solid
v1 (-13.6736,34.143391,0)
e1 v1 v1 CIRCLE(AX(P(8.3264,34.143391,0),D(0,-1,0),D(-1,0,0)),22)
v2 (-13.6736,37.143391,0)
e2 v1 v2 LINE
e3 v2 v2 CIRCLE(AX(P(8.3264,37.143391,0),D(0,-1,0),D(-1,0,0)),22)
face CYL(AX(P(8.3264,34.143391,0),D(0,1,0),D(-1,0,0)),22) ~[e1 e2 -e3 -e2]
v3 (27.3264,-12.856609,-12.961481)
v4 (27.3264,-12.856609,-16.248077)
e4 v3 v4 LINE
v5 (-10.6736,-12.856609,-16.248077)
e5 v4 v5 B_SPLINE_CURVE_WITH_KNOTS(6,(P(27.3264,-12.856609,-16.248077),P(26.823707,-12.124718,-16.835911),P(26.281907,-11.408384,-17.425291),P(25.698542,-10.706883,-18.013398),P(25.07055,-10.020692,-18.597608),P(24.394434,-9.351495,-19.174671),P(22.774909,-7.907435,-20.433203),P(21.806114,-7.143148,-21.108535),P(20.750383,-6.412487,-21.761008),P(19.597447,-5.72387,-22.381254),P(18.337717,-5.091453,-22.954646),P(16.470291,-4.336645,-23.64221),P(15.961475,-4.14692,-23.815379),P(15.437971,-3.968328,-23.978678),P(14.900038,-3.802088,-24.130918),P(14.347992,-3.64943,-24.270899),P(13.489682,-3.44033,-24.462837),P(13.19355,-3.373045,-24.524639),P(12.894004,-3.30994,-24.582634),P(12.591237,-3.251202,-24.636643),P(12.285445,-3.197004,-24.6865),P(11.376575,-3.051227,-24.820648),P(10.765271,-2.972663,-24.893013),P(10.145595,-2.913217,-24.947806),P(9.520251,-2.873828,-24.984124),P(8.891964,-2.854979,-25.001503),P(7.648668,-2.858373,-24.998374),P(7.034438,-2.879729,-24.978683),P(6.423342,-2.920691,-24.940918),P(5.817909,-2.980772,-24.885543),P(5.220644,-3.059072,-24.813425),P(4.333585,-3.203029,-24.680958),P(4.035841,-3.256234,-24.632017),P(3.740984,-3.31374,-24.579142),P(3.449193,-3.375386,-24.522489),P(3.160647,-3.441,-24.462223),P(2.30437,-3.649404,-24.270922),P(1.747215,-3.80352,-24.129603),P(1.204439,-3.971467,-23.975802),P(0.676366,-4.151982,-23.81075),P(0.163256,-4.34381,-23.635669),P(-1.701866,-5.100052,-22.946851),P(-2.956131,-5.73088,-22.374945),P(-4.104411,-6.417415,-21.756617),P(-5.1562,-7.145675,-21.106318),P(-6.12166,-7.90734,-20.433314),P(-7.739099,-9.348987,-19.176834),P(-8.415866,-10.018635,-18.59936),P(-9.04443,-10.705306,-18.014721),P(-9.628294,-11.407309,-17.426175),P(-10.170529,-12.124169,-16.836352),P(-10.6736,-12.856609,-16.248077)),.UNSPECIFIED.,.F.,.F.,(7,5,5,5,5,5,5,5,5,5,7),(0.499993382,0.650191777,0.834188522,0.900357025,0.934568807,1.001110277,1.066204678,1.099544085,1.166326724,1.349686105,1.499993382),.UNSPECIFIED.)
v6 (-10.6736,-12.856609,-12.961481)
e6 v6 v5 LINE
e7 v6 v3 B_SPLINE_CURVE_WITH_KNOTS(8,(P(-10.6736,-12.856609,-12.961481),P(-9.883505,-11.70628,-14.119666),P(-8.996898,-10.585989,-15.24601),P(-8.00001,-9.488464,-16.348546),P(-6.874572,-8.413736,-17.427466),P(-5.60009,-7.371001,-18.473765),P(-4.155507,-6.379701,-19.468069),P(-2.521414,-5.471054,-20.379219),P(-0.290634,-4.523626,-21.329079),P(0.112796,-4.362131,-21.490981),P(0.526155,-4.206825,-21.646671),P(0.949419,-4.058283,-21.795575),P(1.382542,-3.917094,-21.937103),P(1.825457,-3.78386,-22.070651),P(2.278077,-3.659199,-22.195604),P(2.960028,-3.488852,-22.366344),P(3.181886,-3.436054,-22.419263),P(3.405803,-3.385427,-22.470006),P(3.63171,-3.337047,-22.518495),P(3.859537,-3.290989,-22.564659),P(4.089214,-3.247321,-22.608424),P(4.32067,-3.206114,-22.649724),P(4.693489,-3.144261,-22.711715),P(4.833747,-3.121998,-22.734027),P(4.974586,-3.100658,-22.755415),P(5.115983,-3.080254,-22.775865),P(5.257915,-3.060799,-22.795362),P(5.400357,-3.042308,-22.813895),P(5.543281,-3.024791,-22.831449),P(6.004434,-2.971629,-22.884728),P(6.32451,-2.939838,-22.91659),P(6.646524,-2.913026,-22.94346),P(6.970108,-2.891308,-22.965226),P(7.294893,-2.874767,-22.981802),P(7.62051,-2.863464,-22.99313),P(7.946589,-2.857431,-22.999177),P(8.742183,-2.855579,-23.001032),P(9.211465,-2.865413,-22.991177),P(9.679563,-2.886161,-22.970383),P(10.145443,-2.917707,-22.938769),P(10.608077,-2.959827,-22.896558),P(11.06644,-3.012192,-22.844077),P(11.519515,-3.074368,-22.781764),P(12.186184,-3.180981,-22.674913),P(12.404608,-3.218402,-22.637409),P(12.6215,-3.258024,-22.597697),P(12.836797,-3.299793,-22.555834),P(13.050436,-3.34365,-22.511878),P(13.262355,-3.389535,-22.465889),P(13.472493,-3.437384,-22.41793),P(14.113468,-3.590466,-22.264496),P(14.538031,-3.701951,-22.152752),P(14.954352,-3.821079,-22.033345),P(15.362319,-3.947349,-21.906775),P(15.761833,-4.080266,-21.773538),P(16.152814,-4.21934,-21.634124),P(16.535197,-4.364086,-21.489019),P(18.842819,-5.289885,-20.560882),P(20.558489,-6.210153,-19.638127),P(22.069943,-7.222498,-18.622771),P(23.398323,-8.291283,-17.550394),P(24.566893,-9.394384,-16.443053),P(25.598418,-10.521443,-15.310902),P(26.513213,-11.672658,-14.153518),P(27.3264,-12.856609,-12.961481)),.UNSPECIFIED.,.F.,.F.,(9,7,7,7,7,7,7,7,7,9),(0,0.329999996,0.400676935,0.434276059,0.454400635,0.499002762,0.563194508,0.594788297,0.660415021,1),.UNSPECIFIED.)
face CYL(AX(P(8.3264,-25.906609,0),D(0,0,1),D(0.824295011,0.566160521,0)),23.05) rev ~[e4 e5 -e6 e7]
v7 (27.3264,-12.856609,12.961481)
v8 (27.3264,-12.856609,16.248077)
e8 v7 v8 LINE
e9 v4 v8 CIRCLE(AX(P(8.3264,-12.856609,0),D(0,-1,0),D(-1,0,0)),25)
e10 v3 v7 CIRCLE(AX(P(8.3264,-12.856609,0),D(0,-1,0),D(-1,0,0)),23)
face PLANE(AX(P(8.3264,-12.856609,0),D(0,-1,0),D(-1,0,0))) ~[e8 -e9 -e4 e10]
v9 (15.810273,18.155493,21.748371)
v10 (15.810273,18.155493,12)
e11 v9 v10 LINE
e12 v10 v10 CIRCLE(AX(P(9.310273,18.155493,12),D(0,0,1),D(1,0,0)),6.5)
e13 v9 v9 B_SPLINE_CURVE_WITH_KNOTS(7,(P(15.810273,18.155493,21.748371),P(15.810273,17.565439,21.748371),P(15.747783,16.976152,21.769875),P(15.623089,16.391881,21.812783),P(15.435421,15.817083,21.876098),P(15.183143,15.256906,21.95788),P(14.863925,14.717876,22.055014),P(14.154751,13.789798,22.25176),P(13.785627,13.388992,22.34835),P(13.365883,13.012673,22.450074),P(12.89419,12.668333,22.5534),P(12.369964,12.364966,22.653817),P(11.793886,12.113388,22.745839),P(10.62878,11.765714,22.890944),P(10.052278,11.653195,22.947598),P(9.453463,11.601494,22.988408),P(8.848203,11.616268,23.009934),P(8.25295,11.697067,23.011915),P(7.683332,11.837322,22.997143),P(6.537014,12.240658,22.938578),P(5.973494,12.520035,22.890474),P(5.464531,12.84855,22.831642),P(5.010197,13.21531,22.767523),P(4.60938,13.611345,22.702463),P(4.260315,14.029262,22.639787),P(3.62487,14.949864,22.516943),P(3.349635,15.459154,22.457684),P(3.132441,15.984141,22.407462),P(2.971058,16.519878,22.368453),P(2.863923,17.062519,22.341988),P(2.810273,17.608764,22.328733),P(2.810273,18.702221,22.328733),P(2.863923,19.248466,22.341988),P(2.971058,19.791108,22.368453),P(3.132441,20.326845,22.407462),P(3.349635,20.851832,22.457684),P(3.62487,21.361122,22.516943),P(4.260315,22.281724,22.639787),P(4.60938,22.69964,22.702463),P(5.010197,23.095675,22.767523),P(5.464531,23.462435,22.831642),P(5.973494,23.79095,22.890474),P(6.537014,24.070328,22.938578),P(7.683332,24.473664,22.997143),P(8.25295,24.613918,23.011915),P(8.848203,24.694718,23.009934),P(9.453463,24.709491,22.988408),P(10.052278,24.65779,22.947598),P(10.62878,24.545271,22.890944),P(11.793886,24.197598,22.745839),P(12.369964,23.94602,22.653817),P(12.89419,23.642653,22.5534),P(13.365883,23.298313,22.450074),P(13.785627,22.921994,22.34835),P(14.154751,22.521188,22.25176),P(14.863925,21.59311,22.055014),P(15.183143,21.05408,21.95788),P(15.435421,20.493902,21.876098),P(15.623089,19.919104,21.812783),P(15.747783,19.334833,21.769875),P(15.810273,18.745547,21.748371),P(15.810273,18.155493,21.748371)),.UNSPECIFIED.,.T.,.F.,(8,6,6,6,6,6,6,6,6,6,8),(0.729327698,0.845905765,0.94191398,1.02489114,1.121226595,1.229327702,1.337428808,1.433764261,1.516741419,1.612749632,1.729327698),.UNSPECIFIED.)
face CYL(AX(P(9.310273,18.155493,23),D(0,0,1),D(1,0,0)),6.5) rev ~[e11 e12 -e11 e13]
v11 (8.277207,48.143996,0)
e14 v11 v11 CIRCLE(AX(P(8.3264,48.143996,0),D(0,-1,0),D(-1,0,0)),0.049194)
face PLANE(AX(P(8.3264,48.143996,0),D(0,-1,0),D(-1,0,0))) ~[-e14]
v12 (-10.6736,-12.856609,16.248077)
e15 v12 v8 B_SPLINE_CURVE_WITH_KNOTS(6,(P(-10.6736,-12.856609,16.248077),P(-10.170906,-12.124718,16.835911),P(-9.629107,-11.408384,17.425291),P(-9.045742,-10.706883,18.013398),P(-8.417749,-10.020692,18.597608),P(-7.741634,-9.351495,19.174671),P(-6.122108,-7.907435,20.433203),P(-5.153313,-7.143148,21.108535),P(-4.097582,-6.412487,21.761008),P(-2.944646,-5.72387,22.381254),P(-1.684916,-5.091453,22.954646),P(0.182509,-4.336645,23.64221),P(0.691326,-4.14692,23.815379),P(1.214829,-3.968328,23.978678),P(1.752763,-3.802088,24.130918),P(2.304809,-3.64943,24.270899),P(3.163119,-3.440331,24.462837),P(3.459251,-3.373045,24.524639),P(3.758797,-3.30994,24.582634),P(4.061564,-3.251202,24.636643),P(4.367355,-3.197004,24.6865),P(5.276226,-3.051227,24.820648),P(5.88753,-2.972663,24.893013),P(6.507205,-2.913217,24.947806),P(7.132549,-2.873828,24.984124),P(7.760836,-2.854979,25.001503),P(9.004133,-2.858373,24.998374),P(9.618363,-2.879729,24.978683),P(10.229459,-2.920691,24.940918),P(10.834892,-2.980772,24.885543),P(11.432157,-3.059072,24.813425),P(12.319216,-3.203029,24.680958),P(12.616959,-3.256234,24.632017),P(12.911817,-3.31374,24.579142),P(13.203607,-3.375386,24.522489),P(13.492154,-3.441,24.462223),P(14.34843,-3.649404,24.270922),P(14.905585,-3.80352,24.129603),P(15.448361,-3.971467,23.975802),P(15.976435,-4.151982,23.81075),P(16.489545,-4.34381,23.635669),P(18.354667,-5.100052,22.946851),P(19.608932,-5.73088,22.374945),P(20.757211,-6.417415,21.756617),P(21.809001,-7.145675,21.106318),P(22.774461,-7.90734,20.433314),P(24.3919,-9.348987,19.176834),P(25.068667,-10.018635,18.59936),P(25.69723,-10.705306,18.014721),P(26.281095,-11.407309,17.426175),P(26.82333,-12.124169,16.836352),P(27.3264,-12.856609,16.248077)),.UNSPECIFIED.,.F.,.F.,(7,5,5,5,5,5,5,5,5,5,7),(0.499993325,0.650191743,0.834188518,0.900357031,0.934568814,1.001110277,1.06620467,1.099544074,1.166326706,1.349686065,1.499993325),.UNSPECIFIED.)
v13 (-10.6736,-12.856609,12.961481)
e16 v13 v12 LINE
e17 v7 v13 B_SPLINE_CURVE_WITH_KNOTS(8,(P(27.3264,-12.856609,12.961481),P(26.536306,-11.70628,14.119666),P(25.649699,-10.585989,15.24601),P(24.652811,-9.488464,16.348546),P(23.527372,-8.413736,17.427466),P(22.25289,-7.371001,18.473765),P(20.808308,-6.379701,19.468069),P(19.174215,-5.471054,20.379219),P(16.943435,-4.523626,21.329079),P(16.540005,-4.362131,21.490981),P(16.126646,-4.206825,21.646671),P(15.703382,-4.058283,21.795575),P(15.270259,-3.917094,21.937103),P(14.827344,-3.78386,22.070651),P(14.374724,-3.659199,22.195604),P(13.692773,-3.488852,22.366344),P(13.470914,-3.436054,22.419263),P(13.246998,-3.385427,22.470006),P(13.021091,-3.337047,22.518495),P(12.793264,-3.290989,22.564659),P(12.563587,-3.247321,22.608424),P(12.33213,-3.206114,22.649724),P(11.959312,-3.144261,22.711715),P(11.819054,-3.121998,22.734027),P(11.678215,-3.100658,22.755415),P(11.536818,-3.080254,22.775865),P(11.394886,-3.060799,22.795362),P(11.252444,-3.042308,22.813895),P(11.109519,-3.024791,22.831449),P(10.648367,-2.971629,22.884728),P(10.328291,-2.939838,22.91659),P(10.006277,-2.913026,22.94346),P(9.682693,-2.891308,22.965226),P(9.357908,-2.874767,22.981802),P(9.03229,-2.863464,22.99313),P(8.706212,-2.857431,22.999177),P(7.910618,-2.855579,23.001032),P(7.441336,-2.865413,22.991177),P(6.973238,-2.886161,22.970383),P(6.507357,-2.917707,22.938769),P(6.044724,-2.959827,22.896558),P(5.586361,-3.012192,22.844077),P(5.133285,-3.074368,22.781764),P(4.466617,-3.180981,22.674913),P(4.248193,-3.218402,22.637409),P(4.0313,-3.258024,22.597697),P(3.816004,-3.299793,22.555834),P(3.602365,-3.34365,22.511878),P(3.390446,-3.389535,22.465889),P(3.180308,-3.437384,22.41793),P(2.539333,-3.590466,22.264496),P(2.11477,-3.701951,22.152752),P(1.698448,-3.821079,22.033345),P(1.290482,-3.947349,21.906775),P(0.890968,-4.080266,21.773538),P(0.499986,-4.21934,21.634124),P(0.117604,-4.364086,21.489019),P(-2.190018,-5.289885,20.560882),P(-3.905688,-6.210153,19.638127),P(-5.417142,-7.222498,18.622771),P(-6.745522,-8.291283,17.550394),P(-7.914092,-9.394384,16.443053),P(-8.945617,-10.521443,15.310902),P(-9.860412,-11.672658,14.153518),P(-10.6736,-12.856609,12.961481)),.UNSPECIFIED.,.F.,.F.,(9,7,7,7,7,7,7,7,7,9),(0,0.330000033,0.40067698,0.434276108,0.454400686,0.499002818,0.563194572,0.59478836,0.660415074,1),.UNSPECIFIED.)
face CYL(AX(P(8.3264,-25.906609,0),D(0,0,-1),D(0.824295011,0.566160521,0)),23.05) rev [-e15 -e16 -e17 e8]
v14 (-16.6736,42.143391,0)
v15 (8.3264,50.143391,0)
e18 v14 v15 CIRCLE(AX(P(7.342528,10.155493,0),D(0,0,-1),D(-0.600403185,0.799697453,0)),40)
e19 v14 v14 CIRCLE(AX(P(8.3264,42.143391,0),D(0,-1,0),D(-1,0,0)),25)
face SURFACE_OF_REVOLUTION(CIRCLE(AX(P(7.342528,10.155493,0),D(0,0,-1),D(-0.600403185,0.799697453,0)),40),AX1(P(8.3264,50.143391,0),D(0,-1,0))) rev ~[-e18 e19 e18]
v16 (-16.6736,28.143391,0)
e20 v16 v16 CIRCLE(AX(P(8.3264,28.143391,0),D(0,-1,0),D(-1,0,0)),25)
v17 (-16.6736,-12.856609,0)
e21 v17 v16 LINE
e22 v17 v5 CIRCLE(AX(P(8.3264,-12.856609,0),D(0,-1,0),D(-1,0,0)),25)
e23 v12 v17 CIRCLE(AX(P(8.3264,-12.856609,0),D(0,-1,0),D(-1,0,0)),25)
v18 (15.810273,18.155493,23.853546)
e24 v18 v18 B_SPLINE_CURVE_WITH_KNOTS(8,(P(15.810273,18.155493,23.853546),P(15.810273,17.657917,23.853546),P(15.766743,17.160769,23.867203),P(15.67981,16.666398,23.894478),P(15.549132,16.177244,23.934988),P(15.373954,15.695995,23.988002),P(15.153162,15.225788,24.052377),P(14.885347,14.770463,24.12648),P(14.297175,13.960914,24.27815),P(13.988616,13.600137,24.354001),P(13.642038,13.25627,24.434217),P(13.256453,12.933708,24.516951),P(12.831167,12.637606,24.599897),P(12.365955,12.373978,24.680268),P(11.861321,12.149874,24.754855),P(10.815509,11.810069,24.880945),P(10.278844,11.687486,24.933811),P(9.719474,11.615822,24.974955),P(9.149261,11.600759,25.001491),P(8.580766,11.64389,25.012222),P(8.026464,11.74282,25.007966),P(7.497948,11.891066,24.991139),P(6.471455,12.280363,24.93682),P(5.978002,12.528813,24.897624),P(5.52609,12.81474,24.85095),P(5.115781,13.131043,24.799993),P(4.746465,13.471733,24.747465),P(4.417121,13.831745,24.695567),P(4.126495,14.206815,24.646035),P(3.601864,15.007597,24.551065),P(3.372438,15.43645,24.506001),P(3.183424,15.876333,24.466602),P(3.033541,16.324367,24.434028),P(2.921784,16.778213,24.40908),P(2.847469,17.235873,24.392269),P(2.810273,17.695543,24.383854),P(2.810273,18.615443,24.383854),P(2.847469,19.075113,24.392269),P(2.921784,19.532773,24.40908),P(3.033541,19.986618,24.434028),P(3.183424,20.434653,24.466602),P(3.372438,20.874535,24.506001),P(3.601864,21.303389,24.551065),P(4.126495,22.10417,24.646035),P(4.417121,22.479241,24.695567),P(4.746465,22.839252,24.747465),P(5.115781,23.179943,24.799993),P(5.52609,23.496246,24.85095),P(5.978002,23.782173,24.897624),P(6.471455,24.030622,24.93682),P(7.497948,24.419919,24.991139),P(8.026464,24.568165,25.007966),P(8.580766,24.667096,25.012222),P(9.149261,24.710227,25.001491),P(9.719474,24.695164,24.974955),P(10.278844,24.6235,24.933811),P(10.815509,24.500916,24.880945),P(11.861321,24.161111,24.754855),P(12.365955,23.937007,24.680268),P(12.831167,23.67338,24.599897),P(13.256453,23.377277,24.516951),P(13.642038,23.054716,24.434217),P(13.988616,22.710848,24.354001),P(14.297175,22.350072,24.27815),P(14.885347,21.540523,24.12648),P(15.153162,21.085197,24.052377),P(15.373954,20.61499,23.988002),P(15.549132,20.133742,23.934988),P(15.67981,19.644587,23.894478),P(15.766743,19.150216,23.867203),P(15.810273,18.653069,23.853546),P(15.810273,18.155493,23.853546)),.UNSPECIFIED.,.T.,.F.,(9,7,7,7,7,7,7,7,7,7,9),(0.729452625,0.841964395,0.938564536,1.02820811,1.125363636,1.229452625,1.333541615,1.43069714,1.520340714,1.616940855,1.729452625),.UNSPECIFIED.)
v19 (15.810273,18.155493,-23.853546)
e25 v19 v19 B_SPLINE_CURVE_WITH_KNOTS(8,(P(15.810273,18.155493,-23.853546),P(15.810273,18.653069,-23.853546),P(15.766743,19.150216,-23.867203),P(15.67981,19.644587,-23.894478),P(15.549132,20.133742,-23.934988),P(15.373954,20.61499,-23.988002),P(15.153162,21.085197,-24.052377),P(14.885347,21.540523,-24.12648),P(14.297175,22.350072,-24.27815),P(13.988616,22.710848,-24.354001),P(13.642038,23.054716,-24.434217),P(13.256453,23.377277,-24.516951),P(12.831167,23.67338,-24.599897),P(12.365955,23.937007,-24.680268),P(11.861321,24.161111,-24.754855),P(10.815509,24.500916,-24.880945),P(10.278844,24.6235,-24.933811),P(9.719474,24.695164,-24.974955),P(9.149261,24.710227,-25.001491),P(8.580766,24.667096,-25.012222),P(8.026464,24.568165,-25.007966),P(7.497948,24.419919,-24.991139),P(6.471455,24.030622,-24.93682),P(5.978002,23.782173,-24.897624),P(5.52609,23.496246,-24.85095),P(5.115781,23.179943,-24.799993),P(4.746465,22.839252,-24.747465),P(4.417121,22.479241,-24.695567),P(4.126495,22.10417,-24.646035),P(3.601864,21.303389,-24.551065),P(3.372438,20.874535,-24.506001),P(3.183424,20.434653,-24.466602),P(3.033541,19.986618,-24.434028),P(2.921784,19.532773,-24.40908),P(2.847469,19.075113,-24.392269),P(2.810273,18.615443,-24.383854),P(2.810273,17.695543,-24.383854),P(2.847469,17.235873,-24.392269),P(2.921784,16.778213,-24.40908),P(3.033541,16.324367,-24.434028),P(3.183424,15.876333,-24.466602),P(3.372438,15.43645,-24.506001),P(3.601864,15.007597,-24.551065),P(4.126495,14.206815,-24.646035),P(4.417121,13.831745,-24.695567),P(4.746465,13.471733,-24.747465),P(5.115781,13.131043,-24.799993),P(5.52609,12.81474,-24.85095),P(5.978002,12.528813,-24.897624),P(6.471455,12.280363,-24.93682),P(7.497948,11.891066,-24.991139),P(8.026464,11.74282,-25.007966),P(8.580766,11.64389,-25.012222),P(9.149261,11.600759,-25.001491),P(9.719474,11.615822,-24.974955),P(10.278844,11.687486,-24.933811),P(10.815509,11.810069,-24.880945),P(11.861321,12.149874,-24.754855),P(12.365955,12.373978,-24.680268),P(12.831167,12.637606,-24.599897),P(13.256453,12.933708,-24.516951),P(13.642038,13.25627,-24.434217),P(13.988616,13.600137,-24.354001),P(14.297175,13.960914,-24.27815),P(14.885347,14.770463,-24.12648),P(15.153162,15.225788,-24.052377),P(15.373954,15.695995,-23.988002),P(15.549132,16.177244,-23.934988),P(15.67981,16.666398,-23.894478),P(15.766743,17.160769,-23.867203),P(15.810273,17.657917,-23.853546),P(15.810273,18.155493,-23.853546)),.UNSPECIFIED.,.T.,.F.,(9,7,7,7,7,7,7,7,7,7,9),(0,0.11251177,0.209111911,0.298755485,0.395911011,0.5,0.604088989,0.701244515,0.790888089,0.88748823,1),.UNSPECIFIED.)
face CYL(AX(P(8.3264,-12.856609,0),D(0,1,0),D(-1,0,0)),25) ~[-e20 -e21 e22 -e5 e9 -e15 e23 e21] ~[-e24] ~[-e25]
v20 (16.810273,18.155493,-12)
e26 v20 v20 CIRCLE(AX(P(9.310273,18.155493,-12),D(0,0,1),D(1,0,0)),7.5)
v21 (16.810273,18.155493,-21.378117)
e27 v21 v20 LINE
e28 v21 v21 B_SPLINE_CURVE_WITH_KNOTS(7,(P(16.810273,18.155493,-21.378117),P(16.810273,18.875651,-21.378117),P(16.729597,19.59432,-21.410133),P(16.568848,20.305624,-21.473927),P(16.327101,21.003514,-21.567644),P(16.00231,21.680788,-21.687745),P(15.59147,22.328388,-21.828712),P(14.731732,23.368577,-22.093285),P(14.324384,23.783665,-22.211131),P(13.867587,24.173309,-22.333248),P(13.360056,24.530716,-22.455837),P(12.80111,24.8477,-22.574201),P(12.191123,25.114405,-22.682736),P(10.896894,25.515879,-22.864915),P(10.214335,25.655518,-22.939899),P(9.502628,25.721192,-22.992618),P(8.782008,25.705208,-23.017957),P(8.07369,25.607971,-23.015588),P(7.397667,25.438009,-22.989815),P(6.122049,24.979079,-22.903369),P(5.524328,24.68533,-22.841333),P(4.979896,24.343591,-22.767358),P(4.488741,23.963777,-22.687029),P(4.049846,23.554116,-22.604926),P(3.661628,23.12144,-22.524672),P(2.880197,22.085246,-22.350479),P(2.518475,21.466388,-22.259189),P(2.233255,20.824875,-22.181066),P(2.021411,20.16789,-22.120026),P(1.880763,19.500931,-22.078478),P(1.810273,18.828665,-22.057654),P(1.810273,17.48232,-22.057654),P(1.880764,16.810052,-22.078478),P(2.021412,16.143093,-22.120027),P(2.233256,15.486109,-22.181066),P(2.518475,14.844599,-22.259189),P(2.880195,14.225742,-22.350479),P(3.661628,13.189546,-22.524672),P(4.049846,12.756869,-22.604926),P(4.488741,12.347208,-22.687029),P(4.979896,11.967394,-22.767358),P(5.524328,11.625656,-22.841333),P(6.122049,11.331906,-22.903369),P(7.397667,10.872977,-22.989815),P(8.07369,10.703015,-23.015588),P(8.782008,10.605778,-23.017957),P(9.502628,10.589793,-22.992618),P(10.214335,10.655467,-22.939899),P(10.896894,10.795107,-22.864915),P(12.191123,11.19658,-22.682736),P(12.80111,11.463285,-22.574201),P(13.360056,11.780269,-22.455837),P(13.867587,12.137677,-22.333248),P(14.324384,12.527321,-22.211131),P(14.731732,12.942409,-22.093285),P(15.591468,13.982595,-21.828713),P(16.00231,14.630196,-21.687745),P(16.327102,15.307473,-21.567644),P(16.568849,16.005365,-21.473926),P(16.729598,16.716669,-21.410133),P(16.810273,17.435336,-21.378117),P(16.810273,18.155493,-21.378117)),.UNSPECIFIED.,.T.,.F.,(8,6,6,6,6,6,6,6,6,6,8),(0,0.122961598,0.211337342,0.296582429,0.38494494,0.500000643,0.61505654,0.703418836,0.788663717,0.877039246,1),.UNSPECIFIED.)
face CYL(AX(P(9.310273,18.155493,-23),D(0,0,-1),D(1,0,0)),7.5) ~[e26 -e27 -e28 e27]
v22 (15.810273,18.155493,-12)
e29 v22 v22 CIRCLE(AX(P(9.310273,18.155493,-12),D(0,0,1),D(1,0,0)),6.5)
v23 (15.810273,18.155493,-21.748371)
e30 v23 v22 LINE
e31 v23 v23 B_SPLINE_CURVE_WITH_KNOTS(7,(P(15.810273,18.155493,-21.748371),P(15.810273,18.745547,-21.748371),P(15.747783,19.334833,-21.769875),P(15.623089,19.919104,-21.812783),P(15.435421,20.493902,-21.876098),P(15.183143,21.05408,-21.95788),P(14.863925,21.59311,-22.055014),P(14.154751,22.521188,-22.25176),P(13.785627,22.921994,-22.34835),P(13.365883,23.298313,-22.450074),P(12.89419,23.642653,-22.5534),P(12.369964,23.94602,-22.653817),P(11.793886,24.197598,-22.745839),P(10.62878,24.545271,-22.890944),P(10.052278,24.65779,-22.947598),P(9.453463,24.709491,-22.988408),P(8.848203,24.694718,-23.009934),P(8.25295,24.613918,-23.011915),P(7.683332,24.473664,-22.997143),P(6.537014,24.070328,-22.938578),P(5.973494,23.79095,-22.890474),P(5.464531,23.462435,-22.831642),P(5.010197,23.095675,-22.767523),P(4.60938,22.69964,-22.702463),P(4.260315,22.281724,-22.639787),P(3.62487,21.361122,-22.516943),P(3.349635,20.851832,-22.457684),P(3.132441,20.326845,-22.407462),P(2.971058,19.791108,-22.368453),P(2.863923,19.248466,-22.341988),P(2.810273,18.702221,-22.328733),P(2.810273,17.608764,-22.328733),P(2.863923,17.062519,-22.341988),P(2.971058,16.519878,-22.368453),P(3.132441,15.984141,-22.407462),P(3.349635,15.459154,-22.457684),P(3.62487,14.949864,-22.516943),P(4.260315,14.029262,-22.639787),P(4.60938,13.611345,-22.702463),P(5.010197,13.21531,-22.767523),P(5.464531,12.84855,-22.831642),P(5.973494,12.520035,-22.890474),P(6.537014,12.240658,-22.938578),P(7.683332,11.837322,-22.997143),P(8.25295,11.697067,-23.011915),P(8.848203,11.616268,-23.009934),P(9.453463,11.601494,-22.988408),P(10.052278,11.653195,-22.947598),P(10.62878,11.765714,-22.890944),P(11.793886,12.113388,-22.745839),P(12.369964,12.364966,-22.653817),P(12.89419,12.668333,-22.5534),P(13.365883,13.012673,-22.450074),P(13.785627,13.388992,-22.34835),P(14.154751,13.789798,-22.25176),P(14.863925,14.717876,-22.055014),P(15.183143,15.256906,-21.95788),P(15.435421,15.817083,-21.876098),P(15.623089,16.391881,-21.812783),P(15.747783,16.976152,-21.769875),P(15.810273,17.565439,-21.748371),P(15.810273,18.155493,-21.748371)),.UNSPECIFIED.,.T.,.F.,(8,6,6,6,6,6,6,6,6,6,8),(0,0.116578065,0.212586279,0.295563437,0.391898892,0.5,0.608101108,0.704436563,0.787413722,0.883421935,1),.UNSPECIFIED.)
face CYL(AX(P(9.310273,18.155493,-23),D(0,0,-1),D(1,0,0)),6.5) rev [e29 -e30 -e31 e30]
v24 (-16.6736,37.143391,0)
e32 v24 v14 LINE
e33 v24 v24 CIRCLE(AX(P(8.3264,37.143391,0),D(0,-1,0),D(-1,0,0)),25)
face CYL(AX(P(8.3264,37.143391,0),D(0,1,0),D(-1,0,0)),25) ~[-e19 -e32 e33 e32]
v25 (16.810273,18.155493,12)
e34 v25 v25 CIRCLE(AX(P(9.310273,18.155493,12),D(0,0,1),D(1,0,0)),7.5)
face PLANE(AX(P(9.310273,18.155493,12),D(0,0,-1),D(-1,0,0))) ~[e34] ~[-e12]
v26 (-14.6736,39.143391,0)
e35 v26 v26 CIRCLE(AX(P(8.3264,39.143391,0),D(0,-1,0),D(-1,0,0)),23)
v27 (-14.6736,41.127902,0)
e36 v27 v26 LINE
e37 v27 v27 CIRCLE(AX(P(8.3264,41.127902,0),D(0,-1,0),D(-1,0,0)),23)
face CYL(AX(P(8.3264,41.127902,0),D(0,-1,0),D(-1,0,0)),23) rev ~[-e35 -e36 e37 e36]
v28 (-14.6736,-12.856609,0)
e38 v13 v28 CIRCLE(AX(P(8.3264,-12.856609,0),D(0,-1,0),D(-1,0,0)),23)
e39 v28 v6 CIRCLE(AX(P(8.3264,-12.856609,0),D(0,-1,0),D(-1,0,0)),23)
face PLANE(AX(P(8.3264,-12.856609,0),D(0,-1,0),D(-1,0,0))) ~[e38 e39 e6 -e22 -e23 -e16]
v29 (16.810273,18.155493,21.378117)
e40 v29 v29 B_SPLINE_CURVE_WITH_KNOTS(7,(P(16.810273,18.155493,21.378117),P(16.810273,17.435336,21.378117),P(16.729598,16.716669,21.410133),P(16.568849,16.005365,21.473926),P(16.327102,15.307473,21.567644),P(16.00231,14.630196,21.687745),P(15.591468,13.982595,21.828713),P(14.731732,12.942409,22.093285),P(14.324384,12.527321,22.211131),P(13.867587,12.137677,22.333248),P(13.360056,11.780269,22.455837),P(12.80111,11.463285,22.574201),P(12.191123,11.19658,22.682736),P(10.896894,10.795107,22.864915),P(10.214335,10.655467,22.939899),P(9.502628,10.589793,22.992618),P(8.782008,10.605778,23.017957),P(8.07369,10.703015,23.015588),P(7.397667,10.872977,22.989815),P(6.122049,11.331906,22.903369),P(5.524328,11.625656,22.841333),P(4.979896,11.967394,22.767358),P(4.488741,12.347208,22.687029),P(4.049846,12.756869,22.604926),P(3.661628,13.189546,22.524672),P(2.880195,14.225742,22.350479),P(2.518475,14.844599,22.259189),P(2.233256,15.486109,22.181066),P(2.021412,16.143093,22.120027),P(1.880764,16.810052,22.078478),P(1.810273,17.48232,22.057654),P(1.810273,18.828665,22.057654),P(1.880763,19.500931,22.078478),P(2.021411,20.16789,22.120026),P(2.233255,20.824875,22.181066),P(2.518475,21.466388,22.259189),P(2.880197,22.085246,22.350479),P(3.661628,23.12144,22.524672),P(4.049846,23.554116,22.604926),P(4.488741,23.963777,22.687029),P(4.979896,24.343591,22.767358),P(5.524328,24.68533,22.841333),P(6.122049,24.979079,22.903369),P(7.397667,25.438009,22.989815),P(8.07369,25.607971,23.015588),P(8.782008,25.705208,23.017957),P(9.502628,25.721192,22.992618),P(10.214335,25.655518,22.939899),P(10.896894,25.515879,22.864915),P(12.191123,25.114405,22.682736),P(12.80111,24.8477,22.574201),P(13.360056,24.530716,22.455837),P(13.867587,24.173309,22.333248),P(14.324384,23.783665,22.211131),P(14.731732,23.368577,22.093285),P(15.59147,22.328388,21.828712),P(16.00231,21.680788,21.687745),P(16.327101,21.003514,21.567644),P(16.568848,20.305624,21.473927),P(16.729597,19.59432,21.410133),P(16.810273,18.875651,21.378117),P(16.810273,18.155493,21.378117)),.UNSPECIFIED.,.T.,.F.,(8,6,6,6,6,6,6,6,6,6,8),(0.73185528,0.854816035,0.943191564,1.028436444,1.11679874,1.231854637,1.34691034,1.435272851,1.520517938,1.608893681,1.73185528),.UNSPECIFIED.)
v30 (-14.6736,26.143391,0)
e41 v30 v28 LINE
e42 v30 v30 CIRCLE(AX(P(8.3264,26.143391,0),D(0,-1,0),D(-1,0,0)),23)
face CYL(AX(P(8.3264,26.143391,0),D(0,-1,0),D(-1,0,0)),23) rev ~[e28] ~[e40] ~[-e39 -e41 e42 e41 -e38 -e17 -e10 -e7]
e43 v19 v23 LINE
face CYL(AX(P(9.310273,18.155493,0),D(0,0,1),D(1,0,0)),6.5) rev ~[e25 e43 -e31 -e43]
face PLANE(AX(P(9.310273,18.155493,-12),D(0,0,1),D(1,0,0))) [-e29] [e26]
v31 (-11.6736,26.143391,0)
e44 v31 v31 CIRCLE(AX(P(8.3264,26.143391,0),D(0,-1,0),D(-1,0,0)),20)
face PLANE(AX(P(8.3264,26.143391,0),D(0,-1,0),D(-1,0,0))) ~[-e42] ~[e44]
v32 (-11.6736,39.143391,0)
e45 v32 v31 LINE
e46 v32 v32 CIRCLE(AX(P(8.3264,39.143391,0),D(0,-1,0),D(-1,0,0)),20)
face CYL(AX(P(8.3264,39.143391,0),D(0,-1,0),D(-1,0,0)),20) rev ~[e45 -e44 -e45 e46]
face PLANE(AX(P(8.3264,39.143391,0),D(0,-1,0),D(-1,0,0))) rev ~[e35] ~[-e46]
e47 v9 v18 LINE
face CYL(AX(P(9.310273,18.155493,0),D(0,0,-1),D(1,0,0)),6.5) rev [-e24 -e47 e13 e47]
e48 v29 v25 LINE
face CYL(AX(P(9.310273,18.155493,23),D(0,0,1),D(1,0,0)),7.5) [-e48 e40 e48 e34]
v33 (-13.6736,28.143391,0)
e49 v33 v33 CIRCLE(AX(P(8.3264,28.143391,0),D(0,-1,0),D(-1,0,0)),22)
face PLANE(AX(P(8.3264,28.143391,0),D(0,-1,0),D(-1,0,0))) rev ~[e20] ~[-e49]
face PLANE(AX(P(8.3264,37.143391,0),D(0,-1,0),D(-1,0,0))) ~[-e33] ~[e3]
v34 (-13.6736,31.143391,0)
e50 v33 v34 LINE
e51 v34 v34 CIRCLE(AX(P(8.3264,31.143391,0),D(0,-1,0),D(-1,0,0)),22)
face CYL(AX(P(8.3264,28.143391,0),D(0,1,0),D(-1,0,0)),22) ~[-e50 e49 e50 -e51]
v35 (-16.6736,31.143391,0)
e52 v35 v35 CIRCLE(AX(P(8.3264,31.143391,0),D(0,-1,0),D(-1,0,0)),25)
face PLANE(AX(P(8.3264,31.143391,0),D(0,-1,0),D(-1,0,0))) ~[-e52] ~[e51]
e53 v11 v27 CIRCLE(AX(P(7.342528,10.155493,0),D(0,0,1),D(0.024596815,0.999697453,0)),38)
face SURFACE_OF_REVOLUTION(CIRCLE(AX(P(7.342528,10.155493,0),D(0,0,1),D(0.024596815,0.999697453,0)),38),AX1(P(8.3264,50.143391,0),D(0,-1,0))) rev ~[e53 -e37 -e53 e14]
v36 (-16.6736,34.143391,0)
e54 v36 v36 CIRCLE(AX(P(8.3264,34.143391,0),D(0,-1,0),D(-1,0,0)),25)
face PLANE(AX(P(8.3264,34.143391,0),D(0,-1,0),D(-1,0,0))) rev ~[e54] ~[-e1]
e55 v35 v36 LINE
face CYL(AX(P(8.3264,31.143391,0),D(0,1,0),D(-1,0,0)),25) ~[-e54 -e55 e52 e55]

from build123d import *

# Parameters (mm, degrees)
KES_EKSTR_ZYON1_DEPTH            = 25
KES_EKSTR_ZYON1_DEPTH_BACK       = 25
KES_EKSTR_ZYON2_DEPTH            = 25
KES_EKSTR_ZYON2_DEPTH_BACK       = 25
IZIM4_R                          = 6.5
Y_KSEKLIK_EKSTR_ZYON1_REACH      = 79.201
Y_KSEKLIK_EKSTR_ZYON1_END_RADIUS = 23
Y_KSEKLIK_EKSTR_ZYON1_START      = -12
IZIM5_R                          = 7.5
IZIM5_R_2                        = 6.5


with BuildPart() as part:
    # Çizim1 → Döndür39 (revolve)
    with BuildSketch(Plane.XY):
        with BuildLine():
            Line((-16.67359963, -12.856609108), (-16.67359963, 28.143390892))
            Line((-16.67359963, 28.143390892), (-13.67359963, 28.143390892))
            Line((-13.67359963, 28.143390892), (-13.67359963, 31.143390892))
            Line((-13.67359963, 31.143390892), (-16.67359963, 31.143390892))
            Line((-16.67359963, 31.143390892), (-16.67359963, 34.143390892))
            Line((-16.67359963, 34.143390892), (-13.67359963, 34.143390892))
            Line((-13.67359963, 34.143390892), (-13.67359963, 37.143390892))
            Line((-13.67359963, 37.143390892), (-16.67359963, 37.143390892))
            Line((-16.67359963, 37.143390892), (-16.67359963, 42.143390892))
            ThreePointArc((-16.67359963, 42.143390892), (-4.848501321, 48.252458677), (8.32640037, 50.143390892))
            Line((8.32640037, 50.143390892), (8.32640037, 48.143995987))
            Line((8.32640037, 48.143995987), (8.27720674, 48.143995987))
            ThreePointArc((8.27720674, 48.143995987), (-3.766624338, 46.495370879), (-14.67359963, 41.127902037))
            Line((-14.67359963, 41.127902037), (-14.67359963, 39.143390892))
            Line((-14.67359963, 39.143390892), (-11.67359963, 39.143390892))
            Line((-11.67359963, 39.143390892), (-11.67359963, 26.143390892))
            Line((-11.67359963, 26.143390892), (-14.67359963, 26.143390892))
            Line((-14.67359963, 26.143390892), (-14.67359963, -12.856609108))
            Line((-14.67359963, -12.856609108), (-16.67359963, -12.856609108))
        make_face()
    revolve(axis=Axis((8.32640037, 50.143390892, 0), (0, -1, 0)))

    # Çizim3 → Kes-Ekstrüzyon1 (cut, two sides: drawn at the far end of the back side and taken through both)
    with BuildSketch(Plane.XY.offset(-KES_EKSTR_ZYON1_DEPTH_BACK)):
        with BuildLine():
            Line((-10.67359963, -12.856609108), (27.32640037, -12.856609108))
            ThreePointArc((27.32640037, -12.856609108), (8.32640037, -2.856609108), (-10.67359963, -12.856609108))
        make_face()
    extrude(amount=KES_EKSTR_ZYON1_DEPTH + KES_EKSTR_ZYON1_DEPTH_BACK, mode=Mode.SUBTRACT)

    # Çizim4 → Kes-Ekstrüzyon2 (cut, two sides: drawn at the far end of the back side and taken through both)
    with BuildSketch(Plane.XY.offset(-KES_EKSTR_ZYON2_DEPTH_BACK)):
        with Locations((9.310272977, 18.155492789)):
            Circle(IZIM4_R)
    extrude(amount=KES_EKSTR_ZYON2_DEPTH + KES_EKSTR_ZYON2_DEPTH_BACK, mode=Mode.SUBTRACT)

    # Yükseklik-Ekstrüzyon1: up to this cylinder (the profile starts inside it)
    y_kseklik_ekstr_zyon1_end = Plane(origin=(8.32640037, 18.155493, 0), z_dir=(0, 1, 0)) * Cylinder(Y_KSEKLIK_EKSTR_ZYON1_END_RADIUS, 205.402, mode=Mode.PRIVATE)
    # Çizim5 → Yükseklik-Ekstrüzyon1 (add, up to the surface)
    with BuildSketch(Plane.XY.offset(Y_KSEKLIK_EKSTR_ZYON1_START), mode=Mode.PRIVATE) as y_kseklik_ekstr_zyon1_sk1:
        with Locations((9.310272977, 18.155492789)):
            Circle(IZIM5_R)
        with Locations((9.310272977, 18.155492789)):
            Circle(IZIM5_R_2, mode=Mode.SUBTRACT)
    y_kseklik_ekstr_zyon1_tool1 = extrude(y_kseklik_ekstr_zyon1_sk1.sketch, amount=-Y_KSEKLIK_EKSTR_ZYON1_REACH, mode=Mode.PRIVATE) & y_kseklik_ekstr_zyon1_end
    y_kseklik_ekstr_zyon1 = y_kseklik_ekstr_zyon1_tool1.solids().sort_by_distance((2.022405, 18.155493, -12))[0]
    add(y_kseklik_ekstr_zyon1)

    # Aynalama1: Yükseklik-Ekstrüzyon1 across plane
    add(y_kseklik_ekstr_zyon1.mirror(Plane.XY))


solid = part.part
